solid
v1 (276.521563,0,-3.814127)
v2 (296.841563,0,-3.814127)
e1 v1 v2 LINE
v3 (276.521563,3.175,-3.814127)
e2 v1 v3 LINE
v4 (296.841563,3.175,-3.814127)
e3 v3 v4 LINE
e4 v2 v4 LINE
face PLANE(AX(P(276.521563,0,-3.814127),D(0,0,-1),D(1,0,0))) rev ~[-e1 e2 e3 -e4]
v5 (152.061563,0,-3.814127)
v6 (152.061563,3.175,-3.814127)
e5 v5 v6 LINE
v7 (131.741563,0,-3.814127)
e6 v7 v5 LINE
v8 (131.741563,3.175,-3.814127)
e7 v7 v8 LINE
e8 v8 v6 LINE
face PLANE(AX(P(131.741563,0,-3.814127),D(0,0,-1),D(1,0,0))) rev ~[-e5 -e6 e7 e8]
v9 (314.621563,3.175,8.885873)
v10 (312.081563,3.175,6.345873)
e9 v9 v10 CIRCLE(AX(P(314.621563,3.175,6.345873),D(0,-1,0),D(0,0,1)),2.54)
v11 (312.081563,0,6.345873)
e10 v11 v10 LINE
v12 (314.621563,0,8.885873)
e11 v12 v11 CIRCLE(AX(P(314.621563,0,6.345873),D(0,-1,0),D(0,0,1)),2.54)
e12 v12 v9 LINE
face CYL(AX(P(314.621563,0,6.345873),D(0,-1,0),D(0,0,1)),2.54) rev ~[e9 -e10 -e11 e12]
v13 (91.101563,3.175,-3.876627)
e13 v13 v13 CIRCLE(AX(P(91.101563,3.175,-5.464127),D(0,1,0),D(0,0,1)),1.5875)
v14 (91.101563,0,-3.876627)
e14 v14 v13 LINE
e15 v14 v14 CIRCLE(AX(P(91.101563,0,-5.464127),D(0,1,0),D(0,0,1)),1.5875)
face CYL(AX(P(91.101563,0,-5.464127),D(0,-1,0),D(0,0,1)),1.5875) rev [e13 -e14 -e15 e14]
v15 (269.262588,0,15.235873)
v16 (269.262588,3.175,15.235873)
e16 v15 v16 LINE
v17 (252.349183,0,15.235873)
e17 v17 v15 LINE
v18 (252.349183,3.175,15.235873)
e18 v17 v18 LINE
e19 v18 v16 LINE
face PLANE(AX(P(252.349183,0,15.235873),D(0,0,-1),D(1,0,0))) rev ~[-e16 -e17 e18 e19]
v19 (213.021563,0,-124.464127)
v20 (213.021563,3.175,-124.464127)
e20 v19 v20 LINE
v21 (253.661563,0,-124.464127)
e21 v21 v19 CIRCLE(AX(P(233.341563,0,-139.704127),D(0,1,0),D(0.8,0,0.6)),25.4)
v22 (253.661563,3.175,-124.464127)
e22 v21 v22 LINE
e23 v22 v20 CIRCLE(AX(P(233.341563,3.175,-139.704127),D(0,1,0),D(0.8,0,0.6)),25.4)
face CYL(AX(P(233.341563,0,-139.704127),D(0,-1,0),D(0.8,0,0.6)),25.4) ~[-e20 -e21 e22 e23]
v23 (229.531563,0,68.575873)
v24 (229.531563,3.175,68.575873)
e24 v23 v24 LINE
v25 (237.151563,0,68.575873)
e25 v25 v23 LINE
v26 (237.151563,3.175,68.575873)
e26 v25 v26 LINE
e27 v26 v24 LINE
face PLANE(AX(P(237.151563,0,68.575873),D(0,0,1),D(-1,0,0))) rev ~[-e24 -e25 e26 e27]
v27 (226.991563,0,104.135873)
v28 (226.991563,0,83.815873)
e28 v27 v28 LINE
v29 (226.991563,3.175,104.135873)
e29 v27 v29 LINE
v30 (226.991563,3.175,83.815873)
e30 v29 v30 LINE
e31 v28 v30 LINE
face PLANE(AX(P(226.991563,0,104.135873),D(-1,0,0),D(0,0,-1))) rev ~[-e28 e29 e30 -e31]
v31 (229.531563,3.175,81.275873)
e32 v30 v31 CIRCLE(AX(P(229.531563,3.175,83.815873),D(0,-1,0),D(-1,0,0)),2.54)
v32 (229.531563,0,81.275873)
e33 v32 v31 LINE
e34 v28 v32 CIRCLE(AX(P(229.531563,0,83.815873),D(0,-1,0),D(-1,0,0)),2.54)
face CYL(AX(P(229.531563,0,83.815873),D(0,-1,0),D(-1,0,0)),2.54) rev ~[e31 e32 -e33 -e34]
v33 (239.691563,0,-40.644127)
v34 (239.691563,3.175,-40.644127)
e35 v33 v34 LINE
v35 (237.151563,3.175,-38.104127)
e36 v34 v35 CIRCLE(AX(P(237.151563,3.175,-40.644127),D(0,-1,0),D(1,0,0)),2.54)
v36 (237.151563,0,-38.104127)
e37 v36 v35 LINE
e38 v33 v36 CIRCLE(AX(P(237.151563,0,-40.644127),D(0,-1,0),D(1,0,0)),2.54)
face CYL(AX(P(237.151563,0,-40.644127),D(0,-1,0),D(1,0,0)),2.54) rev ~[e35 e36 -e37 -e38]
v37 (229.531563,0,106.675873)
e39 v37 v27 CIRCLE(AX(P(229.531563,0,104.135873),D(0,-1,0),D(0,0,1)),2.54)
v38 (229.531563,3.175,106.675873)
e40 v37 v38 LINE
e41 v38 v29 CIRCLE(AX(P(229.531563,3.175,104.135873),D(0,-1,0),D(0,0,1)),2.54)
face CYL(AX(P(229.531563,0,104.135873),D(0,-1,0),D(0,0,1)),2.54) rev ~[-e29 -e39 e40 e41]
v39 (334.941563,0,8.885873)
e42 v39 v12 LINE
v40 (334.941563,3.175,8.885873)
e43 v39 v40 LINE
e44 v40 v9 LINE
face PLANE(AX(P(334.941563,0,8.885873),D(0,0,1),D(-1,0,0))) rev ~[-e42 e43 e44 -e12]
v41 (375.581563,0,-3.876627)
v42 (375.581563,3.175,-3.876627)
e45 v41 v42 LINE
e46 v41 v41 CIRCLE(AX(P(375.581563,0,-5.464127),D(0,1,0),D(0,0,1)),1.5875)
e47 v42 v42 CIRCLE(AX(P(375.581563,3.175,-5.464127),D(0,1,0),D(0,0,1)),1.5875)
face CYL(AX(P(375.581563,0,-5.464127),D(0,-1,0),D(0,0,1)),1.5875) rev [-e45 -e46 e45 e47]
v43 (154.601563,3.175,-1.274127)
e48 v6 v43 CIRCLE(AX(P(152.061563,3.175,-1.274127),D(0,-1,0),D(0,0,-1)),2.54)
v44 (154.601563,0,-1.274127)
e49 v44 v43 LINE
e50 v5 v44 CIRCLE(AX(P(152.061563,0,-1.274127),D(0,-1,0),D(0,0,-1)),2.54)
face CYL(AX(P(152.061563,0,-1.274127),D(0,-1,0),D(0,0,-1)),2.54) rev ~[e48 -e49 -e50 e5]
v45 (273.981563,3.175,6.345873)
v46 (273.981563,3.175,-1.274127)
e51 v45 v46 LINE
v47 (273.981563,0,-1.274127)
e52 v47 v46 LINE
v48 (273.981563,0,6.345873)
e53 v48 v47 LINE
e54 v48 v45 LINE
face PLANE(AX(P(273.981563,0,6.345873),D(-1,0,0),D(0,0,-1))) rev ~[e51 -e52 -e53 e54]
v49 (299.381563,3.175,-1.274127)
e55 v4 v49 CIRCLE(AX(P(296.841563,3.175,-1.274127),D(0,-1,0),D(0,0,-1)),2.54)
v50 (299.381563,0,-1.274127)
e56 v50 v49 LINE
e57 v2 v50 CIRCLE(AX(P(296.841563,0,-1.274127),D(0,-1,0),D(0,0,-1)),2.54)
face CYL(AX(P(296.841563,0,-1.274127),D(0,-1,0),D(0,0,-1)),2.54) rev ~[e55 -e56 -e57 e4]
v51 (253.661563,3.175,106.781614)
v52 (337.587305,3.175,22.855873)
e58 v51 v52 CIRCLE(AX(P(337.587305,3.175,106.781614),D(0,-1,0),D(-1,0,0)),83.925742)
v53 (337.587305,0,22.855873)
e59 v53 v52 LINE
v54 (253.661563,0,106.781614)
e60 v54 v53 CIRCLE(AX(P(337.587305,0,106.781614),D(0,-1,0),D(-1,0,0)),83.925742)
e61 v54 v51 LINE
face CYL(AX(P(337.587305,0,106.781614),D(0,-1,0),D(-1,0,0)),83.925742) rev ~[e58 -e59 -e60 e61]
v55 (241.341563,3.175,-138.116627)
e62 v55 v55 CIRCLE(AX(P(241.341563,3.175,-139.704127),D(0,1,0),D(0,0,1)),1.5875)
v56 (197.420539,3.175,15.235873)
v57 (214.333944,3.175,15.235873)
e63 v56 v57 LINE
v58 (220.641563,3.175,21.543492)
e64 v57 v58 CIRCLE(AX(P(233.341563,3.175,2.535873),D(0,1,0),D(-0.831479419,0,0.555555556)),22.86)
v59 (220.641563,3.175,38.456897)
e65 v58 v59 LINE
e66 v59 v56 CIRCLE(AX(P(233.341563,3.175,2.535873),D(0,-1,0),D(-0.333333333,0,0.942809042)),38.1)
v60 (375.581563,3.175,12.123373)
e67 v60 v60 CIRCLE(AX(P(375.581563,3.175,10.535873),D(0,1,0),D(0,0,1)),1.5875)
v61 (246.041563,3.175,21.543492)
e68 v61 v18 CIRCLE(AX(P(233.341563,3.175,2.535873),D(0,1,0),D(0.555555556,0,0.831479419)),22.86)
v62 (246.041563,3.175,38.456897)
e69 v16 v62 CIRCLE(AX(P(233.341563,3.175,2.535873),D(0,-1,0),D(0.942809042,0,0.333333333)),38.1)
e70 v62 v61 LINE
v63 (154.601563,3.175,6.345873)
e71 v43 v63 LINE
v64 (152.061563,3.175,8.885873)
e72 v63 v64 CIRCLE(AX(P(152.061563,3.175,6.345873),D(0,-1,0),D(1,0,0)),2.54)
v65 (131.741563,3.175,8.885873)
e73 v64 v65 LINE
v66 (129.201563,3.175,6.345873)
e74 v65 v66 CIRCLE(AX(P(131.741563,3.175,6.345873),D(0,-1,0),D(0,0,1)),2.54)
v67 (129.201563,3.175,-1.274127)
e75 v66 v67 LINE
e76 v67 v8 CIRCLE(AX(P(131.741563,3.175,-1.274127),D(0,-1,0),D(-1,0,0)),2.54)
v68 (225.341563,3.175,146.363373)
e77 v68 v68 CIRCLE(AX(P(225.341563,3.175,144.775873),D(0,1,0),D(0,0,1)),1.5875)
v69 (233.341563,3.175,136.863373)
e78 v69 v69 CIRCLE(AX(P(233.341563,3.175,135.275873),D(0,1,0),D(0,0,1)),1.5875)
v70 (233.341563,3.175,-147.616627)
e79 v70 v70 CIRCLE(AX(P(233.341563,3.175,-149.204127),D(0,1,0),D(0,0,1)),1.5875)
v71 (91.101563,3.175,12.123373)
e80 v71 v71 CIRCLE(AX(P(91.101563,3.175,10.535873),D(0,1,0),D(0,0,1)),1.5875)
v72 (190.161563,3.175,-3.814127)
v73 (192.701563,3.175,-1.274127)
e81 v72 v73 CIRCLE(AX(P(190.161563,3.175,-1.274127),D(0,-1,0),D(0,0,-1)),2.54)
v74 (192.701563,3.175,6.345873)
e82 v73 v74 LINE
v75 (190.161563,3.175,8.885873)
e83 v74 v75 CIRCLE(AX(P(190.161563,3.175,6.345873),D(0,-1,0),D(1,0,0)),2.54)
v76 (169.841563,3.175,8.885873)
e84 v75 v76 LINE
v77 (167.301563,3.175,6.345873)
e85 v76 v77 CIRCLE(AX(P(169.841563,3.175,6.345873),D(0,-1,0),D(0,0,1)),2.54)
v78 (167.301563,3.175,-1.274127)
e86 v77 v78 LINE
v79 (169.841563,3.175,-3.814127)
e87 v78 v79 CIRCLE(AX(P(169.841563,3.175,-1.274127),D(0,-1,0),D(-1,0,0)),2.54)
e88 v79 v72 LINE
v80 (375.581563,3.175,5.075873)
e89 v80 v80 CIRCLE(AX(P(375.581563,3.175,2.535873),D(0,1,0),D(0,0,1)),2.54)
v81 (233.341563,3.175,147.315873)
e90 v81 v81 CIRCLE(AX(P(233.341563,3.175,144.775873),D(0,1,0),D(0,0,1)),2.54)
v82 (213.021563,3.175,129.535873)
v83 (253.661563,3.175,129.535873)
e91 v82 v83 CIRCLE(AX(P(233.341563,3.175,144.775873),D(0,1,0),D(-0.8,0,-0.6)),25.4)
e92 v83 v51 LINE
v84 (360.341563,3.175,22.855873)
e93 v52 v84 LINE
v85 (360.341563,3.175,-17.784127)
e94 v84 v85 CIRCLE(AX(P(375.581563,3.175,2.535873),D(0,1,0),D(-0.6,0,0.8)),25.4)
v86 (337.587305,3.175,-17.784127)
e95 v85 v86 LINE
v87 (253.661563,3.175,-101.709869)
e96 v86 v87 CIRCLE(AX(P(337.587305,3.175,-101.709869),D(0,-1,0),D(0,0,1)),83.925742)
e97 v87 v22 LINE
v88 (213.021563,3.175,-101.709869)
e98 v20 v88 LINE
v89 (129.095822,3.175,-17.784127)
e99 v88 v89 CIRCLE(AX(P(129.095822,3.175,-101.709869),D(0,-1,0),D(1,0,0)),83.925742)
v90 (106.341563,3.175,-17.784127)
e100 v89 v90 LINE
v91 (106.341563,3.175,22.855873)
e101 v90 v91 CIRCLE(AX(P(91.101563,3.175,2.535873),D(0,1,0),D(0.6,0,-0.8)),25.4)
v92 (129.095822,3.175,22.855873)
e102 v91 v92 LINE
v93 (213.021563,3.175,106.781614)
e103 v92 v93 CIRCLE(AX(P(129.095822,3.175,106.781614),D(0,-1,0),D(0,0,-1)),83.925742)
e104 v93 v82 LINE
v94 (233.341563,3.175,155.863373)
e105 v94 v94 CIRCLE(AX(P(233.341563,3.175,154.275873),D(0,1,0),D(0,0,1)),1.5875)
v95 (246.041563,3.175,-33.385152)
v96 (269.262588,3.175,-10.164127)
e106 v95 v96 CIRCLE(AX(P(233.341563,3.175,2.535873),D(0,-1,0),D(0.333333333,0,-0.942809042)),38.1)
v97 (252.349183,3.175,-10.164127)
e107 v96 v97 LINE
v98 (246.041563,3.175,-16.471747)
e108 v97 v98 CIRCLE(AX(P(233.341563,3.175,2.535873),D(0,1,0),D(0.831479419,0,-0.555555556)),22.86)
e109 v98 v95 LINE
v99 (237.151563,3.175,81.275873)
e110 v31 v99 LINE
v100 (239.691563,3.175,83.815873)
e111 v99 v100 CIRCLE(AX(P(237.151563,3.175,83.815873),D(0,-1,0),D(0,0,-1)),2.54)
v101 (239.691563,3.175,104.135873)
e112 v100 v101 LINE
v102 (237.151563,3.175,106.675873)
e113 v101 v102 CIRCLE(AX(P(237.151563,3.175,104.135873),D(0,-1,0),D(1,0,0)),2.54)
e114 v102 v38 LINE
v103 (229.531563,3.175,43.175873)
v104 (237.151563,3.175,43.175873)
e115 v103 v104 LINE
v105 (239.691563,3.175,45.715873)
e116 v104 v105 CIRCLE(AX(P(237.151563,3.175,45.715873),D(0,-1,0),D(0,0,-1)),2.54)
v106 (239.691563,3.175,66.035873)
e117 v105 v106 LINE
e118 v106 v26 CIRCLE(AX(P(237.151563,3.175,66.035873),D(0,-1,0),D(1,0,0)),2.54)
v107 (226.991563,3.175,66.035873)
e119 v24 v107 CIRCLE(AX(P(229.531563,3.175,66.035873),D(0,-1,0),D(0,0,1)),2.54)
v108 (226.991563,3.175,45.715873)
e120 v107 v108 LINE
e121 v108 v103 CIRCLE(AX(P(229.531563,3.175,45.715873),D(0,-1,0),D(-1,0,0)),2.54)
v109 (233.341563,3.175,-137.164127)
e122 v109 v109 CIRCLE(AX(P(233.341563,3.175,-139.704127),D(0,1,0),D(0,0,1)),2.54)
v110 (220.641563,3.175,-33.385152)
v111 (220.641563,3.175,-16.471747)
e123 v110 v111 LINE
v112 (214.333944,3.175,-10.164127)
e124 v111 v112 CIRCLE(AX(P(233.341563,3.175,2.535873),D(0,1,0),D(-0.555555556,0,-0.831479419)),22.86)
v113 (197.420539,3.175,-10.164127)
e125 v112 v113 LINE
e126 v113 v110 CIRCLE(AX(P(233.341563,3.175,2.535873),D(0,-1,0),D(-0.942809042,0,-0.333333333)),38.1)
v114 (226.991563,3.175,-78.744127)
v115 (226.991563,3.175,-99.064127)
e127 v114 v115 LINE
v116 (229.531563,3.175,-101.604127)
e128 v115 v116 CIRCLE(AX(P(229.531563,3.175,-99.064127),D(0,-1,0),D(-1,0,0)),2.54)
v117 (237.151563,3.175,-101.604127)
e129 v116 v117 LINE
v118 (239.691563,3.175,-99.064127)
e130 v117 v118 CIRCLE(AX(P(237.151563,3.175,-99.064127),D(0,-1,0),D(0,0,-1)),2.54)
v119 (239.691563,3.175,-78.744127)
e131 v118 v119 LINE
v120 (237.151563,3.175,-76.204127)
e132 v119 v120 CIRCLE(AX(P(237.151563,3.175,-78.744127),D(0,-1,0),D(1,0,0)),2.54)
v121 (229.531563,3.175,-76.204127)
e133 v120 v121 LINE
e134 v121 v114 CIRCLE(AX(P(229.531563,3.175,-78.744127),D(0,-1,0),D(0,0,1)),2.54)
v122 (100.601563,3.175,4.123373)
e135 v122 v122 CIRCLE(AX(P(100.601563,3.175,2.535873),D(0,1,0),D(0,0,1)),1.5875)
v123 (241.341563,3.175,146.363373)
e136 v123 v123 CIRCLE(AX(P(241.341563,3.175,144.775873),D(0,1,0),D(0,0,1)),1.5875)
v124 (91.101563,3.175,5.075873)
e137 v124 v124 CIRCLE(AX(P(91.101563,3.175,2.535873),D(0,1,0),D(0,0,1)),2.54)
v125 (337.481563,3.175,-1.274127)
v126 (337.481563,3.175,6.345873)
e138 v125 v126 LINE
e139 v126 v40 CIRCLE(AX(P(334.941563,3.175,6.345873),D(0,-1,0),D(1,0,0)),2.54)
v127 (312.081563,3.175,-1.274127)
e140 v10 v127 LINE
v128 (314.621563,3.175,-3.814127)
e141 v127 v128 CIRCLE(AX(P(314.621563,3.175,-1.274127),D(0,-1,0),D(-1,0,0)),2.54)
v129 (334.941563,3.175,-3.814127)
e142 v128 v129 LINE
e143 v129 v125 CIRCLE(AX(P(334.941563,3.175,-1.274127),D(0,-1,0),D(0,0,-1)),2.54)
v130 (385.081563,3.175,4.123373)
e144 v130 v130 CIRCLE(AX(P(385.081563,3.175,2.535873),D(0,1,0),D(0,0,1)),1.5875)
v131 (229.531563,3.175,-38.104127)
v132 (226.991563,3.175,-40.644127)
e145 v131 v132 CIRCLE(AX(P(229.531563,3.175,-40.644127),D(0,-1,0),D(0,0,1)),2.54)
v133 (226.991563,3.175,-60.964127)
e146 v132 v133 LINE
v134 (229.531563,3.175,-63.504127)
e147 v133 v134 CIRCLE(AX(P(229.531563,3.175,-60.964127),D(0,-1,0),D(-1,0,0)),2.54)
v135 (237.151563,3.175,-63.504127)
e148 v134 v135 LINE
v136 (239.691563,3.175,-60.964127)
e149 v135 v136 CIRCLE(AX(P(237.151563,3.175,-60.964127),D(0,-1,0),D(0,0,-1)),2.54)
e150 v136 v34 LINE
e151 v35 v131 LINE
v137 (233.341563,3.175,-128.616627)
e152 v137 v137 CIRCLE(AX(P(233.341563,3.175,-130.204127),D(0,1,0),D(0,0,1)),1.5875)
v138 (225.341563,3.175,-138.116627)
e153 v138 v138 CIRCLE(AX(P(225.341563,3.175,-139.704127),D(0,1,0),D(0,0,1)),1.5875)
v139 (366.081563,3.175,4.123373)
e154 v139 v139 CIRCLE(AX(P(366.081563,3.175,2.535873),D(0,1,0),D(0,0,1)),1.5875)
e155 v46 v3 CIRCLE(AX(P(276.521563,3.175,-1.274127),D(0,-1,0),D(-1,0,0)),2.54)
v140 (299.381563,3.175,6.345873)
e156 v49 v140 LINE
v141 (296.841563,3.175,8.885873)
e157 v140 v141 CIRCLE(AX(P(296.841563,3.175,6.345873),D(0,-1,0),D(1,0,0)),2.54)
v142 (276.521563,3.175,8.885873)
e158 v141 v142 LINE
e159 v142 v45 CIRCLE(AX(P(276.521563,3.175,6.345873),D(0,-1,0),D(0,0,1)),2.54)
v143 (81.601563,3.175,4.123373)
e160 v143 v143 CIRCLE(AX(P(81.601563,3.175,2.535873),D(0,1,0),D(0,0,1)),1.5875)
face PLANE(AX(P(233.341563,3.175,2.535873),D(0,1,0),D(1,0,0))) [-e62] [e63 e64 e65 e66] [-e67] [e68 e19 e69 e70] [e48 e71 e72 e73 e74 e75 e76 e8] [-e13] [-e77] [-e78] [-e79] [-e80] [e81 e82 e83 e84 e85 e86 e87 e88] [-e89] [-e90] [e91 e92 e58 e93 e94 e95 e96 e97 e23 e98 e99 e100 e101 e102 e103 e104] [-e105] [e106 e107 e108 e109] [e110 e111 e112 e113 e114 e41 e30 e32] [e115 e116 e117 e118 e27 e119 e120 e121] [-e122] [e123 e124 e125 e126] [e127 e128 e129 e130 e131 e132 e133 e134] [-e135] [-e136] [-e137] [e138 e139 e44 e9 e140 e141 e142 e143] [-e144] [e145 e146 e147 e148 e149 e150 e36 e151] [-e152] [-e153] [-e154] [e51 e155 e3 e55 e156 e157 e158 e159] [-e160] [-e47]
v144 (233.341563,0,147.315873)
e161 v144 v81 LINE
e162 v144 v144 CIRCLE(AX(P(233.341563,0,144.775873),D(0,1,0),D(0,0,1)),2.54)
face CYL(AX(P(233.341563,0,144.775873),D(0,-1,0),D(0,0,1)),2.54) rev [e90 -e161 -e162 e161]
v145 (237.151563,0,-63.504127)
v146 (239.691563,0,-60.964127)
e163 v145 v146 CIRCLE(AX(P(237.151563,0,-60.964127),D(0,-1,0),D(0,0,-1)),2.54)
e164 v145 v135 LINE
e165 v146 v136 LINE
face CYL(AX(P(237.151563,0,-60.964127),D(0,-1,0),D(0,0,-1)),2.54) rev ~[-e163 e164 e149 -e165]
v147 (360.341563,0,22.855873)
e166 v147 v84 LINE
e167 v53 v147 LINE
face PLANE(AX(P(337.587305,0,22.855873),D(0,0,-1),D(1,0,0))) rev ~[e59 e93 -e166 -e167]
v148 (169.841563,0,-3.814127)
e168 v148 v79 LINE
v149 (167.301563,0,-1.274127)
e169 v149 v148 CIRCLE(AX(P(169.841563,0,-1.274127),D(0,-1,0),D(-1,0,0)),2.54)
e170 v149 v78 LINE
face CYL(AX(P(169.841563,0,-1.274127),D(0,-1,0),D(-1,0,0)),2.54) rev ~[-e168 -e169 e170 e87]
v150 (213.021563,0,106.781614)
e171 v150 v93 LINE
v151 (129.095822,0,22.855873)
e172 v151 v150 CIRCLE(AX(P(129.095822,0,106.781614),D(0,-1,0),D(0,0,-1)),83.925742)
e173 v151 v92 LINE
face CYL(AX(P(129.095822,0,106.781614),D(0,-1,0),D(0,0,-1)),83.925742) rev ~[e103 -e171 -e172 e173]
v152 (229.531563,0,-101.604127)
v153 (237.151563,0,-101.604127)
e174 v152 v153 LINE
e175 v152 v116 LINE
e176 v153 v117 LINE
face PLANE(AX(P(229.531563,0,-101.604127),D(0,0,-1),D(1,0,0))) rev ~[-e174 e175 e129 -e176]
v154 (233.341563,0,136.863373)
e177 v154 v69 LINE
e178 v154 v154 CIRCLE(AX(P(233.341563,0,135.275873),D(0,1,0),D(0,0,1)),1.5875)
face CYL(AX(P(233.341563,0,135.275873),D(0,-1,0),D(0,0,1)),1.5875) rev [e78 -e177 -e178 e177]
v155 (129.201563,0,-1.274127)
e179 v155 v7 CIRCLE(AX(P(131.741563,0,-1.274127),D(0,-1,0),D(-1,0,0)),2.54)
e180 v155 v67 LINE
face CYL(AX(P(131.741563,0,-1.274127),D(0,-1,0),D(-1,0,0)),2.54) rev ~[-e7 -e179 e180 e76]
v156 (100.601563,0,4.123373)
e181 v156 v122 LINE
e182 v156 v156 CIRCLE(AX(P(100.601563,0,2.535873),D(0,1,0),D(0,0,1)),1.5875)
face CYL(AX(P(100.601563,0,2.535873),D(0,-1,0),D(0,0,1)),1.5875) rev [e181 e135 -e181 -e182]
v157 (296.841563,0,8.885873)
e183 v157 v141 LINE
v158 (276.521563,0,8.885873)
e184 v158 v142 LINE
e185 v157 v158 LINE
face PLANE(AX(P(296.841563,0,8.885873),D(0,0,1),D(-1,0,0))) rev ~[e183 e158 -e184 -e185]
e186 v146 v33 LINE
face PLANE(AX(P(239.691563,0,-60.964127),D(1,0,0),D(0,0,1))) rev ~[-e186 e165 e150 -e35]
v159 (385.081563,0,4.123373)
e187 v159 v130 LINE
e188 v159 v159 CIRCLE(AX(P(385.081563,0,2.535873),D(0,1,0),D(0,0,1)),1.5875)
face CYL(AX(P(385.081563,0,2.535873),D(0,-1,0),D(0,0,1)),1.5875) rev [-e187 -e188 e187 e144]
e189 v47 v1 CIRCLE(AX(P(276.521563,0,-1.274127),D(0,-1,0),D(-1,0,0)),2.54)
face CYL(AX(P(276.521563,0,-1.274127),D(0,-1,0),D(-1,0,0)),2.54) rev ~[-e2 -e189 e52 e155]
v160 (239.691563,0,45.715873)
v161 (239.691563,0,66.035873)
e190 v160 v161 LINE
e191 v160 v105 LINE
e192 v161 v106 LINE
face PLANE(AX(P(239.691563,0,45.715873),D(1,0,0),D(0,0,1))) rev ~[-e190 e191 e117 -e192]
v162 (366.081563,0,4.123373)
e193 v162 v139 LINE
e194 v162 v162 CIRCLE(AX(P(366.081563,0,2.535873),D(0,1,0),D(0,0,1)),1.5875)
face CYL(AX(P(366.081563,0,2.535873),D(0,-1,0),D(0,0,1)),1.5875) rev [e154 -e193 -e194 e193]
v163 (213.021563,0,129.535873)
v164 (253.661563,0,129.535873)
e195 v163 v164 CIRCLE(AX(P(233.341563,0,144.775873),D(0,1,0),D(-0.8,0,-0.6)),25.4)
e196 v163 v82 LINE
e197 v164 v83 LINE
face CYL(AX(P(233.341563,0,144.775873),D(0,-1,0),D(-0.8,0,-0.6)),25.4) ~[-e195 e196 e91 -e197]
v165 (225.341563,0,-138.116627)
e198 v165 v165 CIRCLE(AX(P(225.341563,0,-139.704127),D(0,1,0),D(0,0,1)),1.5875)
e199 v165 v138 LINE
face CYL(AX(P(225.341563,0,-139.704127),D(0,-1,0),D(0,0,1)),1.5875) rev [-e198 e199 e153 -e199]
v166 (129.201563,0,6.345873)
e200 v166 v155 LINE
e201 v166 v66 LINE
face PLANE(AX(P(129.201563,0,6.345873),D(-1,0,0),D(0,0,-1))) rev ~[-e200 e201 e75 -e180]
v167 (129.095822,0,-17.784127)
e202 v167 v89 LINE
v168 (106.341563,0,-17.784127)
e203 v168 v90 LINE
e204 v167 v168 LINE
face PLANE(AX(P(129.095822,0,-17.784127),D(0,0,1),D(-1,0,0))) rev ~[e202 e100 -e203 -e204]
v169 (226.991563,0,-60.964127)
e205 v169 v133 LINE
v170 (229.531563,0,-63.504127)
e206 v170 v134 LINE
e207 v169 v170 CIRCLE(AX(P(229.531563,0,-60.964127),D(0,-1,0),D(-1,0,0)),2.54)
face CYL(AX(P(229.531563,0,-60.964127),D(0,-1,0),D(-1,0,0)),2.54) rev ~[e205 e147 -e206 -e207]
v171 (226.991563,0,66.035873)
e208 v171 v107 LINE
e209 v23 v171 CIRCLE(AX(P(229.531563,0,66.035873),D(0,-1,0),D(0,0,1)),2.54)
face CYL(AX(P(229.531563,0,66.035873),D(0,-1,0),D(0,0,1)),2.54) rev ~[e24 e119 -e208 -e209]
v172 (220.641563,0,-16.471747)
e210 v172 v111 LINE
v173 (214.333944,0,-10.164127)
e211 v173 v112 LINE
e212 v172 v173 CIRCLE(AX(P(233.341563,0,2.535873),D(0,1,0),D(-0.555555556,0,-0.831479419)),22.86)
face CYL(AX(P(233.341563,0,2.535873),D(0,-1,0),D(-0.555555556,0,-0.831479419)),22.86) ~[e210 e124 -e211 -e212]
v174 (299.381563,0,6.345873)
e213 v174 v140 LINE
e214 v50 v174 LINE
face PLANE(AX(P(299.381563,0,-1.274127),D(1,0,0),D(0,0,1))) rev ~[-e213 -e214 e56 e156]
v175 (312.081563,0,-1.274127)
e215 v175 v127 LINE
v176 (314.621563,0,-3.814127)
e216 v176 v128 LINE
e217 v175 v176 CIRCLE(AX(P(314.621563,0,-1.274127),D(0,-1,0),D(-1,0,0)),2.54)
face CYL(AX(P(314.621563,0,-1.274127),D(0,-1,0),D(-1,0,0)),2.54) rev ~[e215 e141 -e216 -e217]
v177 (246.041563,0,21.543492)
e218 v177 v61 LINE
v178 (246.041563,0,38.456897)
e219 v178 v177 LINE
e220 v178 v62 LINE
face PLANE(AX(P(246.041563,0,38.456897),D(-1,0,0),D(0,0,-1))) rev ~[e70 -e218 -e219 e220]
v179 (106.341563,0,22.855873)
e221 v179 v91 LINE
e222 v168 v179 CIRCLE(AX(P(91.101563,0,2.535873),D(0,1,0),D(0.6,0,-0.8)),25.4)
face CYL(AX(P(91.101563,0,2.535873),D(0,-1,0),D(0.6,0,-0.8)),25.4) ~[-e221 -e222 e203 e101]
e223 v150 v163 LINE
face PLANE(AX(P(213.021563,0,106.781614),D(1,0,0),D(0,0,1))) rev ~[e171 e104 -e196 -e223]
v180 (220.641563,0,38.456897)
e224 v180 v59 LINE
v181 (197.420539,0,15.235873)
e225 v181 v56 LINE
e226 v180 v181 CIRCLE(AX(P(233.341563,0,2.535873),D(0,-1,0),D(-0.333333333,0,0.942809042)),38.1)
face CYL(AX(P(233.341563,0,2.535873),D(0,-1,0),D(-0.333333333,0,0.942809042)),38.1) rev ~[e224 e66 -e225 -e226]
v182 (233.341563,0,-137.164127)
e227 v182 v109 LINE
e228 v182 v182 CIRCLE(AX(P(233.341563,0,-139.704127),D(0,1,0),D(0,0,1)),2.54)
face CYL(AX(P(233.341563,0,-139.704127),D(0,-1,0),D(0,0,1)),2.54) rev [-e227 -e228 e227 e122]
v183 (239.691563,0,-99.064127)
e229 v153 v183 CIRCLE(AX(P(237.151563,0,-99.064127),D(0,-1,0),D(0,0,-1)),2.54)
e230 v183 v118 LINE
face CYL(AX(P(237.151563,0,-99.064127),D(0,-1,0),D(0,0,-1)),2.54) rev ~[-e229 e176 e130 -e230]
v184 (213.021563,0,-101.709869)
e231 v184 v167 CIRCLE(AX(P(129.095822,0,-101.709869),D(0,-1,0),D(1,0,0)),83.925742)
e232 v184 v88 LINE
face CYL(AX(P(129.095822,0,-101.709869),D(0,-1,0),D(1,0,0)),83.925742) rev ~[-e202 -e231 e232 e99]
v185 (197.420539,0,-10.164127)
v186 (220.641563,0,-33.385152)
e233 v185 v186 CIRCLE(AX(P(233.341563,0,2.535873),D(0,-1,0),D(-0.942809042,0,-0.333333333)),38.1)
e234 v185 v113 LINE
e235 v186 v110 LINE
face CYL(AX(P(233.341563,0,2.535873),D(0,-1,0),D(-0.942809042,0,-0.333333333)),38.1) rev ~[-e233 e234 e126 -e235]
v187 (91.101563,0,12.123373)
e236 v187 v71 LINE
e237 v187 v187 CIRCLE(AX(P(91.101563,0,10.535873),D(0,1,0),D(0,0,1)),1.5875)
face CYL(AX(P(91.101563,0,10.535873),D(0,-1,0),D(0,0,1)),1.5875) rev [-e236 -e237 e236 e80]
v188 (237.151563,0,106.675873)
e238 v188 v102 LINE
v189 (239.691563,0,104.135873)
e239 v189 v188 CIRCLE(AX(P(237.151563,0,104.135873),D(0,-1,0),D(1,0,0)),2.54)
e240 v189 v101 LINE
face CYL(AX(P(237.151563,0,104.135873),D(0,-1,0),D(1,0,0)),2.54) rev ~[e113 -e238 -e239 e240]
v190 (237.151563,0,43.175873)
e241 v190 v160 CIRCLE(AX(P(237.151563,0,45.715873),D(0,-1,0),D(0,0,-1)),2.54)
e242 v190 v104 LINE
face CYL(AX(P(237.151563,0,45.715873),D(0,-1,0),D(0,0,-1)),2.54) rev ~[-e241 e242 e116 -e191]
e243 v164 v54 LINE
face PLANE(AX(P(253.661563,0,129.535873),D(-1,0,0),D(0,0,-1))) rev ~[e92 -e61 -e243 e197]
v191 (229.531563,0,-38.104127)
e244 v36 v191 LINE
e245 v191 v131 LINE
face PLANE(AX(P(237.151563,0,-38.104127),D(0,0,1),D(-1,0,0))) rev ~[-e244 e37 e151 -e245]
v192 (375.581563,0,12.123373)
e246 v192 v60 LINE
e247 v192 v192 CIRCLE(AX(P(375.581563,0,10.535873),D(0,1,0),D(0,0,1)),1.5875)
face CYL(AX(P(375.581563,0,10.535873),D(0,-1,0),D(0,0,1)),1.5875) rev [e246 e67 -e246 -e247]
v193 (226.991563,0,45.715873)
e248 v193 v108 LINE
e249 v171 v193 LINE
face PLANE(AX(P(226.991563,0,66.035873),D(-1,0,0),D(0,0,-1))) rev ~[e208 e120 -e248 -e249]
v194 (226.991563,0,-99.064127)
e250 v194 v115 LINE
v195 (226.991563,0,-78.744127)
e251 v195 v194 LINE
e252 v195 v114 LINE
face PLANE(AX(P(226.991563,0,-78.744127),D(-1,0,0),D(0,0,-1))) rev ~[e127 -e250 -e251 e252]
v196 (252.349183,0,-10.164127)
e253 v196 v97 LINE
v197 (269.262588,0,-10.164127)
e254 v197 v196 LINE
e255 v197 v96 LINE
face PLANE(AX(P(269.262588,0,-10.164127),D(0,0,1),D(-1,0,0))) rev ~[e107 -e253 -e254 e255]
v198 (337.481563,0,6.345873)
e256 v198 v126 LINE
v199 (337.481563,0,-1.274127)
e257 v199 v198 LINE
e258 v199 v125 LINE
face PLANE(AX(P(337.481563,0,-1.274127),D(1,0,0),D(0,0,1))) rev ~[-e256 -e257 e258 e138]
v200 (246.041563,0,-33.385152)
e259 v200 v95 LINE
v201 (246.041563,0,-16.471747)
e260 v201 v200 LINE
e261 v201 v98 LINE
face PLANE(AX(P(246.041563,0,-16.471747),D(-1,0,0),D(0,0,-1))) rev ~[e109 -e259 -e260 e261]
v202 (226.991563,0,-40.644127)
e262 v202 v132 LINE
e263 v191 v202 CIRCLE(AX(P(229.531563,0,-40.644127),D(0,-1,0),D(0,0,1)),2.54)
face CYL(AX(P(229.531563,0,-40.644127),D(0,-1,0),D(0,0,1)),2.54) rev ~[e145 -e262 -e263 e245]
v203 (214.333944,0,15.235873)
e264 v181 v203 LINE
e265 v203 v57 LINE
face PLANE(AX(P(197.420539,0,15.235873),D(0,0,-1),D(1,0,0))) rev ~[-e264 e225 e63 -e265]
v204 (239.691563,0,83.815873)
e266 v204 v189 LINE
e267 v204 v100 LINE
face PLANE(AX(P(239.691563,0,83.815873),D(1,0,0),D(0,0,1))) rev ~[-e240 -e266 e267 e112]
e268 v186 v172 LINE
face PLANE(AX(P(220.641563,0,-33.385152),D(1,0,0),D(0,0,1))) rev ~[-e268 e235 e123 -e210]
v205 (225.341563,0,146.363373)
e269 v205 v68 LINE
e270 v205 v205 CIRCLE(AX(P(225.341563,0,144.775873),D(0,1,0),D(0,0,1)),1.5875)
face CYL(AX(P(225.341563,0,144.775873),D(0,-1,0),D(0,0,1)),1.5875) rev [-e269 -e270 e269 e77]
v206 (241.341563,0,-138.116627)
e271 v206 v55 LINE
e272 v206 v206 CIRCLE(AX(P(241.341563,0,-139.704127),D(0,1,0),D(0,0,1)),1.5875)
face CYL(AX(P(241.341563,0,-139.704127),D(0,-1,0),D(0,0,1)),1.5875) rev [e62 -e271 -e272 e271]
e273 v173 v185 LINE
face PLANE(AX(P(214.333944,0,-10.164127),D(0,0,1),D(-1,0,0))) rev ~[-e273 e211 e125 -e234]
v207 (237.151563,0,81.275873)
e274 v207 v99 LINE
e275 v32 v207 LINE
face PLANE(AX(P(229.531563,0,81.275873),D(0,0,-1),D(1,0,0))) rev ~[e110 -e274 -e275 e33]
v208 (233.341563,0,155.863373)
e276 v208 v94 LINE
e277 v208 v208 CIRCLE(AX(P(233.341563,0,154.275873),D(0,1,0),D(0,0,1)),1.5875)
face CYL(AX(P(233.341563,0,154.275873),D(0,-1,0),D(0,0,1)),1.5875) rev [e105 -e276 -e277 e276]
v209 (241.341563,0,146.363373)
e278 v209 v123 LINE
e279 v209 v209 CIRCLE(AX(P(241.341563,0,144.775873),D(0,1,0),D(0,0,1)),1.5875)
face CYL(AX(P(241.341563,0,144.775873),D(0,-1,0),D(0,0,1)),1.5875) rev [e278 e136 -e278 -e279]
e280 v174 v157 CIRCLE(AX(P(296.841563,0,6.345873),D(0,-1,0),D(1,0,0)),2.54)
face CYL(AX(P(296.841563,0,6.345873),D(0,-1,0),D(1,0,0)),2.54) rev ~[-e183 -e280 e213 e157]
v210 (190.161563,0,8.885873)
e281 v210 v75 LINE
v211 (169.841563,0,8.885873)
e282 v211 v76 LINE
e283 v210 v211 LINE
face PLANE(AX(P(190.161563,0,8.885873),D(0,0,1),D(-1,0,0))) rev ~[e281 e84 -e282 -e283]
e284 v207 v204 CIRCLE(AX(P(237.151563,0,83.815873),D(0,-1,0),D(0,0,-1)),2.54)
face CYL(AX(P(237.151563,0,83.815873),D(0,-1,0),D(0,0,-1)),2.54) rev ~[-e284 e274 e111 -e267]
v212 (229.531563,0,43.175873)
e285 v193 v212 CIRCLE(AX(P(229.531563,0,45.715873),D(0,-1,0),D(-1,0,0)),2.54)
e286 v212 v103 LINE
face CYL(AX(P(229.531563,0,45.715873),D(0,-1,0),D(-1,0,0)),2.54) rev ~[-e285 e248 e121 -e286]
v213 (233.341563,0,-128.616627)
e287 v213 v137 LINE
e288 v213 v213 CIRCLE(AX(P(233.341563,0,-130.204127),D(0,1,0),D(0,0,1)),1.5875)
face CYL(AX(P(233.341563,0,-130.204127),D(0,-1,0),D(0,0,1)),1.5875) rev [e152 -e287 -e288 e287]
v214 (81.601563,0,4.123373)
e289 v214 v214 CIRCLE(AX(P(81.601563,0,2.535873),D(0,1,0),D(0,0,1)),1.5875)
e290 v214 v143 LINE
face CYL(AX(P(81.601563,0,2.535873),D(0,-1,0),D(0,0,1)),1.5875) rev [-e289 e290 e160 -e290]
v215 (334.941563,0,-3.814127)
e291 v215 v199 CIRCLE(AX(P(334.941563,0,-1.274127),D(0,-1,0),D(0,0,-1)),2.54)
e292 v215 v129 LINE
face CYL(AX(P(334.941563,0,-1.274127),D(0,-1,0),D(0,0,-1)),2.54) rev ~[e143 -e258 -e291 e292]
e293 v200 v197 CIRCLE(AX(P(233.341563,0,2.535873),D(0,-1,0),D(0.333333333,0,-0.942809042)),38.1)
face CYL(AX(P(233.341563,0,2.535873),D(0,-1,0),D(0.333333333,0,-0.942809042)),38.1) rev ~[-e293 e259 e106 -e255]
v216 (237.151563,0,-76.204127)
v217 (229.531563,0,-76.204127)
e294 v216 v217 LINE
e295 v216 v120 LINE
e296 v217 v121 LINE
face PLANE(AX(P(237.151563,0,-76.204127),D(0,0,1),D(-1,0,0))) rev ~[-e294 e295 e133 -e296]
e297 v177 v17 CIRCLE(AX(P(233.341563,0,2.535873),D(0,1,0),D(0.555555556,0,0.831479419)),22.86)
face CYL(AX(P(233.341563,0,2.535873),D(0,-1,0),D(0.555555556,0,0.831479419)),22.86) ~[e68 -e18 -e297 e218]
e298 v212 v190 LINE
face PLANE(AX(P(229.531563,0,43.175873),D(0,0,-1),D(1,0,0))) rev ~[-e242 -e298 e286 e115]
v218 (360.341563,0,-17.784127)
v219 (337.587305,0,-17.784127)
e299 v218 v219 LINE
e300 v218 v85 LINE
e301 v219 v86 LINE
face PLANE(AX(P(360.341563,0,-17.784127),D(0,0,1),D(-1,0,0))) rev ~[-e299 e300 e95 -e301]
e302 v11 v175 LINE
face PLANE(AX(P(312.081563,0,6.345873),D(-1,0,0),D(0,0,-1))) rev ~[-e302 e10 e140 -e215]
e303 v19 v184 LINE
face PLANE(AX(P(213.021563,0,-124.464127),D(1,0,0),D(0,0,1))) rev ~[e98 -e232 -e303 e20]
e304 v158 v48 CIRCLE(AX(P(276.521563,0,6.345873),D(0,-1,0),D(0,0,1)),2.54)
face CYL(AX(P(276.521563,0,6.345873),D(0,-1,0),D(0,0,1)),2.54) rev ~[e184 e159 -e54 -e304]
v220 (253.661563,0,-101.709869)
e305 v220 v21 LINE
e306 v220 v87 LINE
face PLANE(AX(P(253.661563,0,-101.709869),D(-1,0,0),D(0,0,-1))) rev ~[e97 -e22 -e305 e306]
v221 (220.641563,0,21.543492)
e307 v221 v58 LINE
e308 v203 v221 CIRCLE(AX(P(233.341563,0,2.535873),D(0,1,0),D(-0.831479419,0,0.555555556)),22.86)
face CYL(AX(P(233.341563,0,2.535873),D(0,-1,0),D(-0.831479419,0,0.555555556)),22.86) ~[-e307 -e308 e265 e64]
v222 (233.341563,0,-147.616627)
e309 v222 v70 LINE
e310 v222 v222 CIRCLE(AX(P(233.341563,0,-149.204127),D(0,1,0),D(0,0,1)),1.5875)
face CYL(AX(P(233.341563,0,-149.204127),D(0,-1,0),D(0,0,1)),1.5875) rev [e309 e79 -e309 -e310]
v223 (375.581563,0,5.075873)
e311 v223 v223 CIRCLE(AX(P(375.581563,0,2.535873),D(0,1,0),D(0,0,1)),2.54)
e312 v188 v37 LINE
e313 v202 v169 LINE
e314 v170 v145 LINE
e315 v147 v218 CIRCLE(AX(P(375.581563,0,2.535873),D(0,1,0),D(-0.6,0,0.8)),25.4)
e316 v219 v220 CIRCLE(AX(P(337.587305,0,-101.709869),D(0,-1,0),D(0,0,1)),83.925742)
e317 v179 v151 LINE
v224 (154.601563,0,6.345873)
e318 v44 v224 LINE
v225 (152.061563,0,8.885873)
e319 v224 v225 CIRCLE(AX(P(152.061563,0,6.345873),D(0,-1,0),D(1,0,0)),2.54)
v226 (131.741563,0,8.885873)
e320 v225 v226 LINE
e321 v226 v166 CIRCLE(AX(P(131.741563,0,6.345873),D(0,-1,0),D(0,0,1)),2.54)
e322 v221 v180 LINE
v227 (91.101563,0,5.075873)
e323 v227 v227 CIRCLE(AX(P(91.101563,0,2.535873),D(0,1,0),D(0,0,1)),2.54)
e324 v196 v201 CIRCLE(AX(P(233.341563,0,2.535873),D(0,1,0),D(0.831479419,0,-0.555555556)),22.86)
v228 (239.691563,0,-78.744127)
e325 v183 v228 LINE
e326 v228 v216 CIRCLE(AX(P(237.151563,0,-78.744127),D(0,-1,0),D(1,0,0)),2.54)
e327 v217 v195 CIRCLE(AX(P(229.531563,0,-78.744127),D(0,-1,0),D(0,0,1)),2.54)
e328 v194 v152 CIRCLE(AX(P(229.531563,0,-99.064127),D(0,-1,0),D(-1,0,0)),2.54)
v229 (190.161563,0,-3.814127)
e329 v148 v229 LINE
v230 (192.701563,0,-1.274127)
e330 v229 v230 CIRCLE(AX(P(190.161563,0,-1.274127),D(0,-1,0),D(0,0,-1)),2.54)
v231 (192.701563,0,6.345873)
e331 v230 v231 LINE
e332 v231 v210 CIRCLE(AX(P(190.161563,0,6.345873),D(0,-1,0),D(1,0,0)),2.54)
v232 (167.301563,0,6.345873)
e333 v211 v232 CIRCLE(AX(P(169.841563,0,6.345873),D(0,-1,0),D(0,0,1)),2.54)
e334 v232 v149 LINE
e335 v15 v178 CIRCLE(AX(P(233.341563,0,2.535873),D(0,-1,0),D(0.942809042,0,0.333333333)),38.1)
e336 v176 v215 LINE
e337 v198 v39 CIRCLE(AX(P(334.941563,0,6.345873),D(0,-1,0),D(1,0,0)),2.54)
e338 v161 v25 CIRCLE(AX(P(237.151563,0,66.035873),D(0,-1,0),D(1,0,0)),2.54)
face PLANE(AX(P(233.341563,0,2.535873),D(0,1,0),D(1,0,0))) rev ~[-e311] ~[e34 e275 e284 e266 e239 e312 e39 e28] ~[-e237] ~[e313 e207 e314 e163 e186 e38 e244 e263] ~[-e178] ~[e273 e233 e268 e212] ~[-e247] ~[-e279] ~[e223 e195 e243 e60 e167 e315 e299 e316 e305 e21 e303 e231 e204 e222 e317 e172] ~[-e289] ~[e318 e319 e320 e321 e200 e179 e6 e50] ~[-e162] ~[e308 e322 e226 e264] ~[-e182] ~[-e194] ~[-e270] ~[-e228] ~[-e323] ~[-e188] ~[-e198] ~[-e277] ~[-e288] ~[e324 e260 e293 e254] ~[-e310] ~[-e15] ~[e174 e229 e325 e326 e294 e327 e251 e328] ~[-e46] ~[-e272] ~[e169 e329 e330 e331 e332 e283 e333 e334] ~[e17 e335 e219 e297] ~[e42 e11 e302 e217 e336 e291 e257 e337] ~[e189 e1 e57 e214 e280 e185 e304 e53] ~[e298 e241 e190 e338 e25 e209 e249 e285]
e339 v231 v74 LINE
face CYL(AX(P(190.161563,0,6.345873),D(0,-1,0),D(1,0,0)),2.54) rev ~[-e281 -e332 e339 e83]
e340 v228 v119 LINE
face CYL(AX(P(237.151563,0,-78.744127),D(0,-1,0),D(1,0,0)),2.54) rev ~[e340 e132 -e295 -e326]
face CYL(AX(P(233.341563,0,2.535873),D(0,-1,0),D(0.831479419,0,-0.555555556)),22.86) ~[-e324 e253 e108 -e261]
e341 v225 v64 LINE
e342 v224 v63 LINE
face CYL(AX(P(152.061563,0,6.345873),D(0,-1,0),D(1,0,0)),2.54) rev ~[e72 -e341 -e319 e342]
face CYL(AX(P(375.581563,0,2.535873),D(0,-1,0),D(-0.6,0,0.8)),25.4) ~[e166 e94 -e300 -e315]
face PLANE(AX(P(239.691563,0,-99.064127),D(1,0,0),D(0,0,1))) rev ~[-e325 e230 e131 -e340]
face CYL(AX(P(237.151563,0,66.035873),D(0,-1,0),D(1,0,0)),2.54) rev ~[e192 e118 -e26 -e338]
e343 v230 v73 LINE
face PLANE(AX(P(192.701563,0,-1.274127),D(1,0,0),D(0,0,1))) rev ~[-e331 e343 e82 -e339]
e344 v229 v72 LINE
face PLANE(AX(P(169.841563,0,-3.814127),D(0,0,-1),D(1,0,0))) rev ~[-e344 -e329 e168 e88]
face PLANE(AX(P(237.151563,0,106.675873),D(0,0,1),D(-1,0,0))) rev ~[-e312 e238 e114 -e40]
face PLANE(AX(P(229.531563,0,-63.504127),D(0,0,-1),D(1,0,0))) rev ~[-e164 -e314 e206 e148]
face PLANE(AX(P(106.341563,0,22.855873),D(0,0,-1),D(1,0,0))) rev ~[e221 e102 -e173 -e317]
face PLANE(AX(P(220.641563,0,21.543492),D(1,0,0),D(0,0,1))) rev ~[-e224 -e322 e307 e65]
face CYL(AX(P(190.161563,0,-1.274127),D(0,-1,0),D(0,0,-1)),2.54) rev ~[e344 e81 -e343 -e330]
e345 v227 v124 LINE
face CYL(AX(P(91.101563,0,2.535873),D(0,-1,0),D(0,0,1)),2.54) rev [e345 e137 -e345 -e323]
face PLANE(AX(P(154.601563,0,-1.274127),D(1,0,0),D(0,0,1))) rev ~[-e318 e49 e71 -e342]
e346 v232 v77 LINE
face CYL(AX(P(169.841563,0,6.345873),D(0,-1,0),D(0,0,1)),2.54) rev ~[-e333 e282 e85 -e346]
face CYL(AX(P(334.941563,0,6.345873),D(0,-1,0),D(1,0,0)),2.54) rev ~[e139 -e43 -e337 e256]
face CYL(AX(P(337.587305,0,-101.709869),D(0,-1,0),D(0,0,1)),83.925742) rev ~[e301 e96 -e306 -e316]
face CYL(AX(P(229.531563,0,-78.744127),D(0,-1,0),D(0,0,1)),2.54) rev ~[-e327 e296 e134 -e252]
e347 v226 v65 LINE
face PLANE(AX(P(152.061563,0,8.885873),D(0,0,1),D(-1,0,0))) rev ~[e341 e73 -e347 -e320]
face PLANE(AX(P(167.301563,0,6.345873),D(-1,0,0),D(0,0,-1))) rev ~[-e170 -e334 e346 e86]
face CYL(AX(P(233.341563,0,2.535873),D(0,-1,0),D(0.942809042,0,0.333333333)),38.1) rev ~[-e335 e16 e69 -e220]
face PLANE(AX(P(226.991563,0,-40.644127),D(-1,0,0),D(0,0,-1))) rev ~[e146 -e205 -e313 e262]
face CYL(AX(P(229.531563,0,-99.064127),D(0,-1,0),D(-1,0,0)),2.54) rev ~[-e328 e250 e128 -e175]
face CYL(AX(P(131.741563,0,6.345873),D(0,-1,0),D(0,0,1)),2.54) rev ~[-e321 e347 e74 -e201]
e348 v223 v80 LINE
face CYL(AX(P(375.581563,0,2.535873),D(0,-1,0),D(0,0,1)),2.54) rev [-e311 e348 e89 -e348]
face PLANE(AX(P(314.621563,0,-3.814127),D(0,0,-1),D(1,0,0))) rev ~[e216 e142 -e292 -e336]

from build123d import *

# Parameters (mm, degrees)
SKETCH1_R           = 1.5875
SKETCH1_R_2         = 2.54
BOSS_EXTRUDE1_DEPTH = 3.175


with BuildPart() as part:
    # Sketch1 → Boss-Extrude1 (new body)
    with BuildSketch(Plane(origin=(0, 0, 0), x_dir=(1, 0, 0), z_dir=(0, 1, 0))):
        with BuildLine():
            ThreePointArc((106.34156313, 17.784127356), (65.70156313, -2.535872644), (106.34156313, -22.855872644))
            Line((106.34156313, -22.855872644), (129.095821507, -22.855872644))
            ThreePointArc((129.095821507, -22.855872644), (188.440282525, -47.437153249), (213.02156313, -106.781614267))
            Line((213.02156313, -106.781614267), (213.02156313, -129.535872644))
            ThreePointArc((213.02156313, -129.535872644), (233.34156313, -170.175872644), (253.66156313, -129.535872644))
            Line((253.66156313, -129.535872644), (253.66156313, -106.781614267))
            ThreePointArc((253.66156313, -106.781614267), (278.242843735, -47.437153249), (337.587304753, -22.855872644))
            Line((337.587304753, -22.855872644), (360.34156313, -22.855872644))
            ThreePointArc((360.34156313, -22.855872644), (400.98156313, -2.535872644), (360.34156313, 17.784127356))
            Line((360.34156313, 17.784127356), (337.587304753, 17.784127356))
            ThreePointArc((337.587304753, 17.784127356), (278.242843735, 42.365407962), (253.66156313, 101.70986898))
            Line((253.66156313, 101.70986898), (253.66156313, 124.464127356))
            ThreePointArc((253.66156313, 124.464127356), (233.34156313, 165.104127356), (213.02156313, 124.464127356))
            Line((213.02156313, 124.464127356), (213.02156313, 101.70986898))
            ThreePointArc((213.02156313, 101.70986898), (188.440282525, 42.365407962), (129.095821507, 17.784127356))
            Line((129.095821507, 17.784127356), (106.34156313, 17.784127356))
        make_face()
        with BuildLine():
            ThreePointArc((276.52156313, -8.885872644), (274.725511906, -8.141923868), (273.98156313, -6.345872644))
            Line((273.98156313, -6.345872644), (273.98156313, 1.274127356))
            ThreePointArc((273.98156313, 1.274127356), (274.725511906, 3.07017858), (276.52156313, 3.814127356))
            Line((276.52156313, 3.814127356), (296.84156313, 3.814127356))
            ThreePointArc((296.84156313, 3.814127356), (298.637614354, 3.07017858), (299.38156313, 1.274127356))
            Line((299.38156313, 1.274127356), (299.38156313, -6.345872644))
            ThreePointArc((299.38156313, -6.345872644), (298.637614354, -8.141923868), (296.84156313, -8.885872644))
            Line((296.84156313, -8.885872644), (276.52156313, -8.885872644))
        make_face(mode=Mode.SUBTRACT)
        with BuildLine():
            ThreePointArc((239.69156313, -66.035872644), (238.947614354, -67.831923868), (237.15156313, -68.575872644))
            Line((237.15156313, -68.575872644), (229.53156313, -68.575872644))
            ThreePointArc((229.53156313, -68.575872644), (227.735511906, -67.831923868), (226.99156313, -66.035872644))
            Line((226.99156313, -66.035872644), (226.99156313, -45.715872644))
            ThreePointArc((226.99156313, -45.715872644), (227.735511906, -43.91982142), (229.53156313, -43.175872644))
            Line((229.53156313, -43.175872644), (237.15156313, -43.175872644))
            ThreePointArc((237.15156313, -43.175872644), (238.947614354, -43.91982142), (239.69156313, -45.715872644))
            Line((239.69156313, -45.715872644), (239.69156313, -66.035872644))
        make_face(mode=Mode.SUBTRACT)
        with BuildLine():
            ThreePointArc((239.69156313, 40.644127356), (238.947614354, 38.848076132), (237.15156313, 38.104127356))
            Line((237.15156313, 38.104127356), (229.53156313, 38.104127356))
            ThreePointArc((229.53156313, 38.104127356), (227.735511906, 38.848076132), (226.99156313, 40.644127356))
            Line((226.99156313, 40.644127356), (226.99156313, 60.964127356))
            ThreePointArc((226.99156313, 60.964127356), (227.735511906, 62.76017858), (229.53156313, 63.504127356))
            Line((229.53156313, 63.504127356), (237.15156313, 63.504127356))
            ThreePointArc((237.15156313, 63.504127356), (238.947614354, 62.76017858), (239.69156313, 60.964127356))
            Line((239.69156313, 60.964127356), (239.69156313, 40.644127356))
        make_face(mode=Mode.SUBTRACT)
        with BuildLine():
            ThreePointArc((169.84156313, -8.885872644), (168.045511906, -8.141923868), (167.30156313, -6.345872644))
            Line((167.30156313, -6.345872644), (167.30156313, 1.274127356))
            ThreePointArc((167.30156313, 1.274127356), (168.045511906, 3.07017858), (169.84156313, 3.814127356))
            Line((169.84156313, 3.814127356), (190.16156313, 3.814127356))
            ThreePointArc((190.16156313, 3.814127356), (191.957614354, 3.07017858), (192.70156313, 1.274127356))
            Line((192.70156313, 1.274127356), (192.70156313, -6.345872644))
            ThreePointArc((192.70156313, -6.345872644), (191.957614354, -8.141923868), (190.16156313, -8.885872644))
            Line((190.16156313, -8.885872644), (169.84156313, -8.885872644))
        make_face(mode=Mode.SUBTRACT)
        with BuildLine():
            ThreePointArc((129.20156313, 1.274127356), (129.945511906, 3.07017858), (131.74156313, 3.814127356))
            Line((131.74156313, 3.814127356), (152.06156313, 3.814127356))
            ThreePointArc((152.06156313, 3.814127356), (153.857614354, 3.07017858), (154.60156313, 1.274127356))
            Line((154.60156313, 1.274127356), (154.60156313, -6.345872644))
            ThreePointArc((154.60156313, -6.345872644), (153.857614354, -8.141923868), (152.06156313, -8.885872644))
            Line((152.06156313, -8.885872644), (131.74156313, -8.885872644))
            ThreePointArc((131.74156313, -8.885872644), (129.945511906, -8.141923868), (129.20156313, -6.345872644))
            Line((129.20156313, -6.345872644), (129.20156313, 1.274127356))
        make_face(mode=Mode.SUBTRACT)
        with Locations(Location((91.10156313, 5.464127356, 0), (0, 0, 270))):
            Circle(SKETCH1_R, mode=Mode.SUBTRACT)
        with Locations(Location((100.60156313, -2.535872644, 0), (0, 0, 270))):
            Circle(SKETCH1_R, mode=Mode.SUBTRACT)
        with Locations(Location((91.10156313, -10.535872644, 0), (0, 0, 270))):
            Circle(SKETCH1_R, mode=Mode.SUBTRACT)
        with Locations(Location((91.10156313, -2.535872644, 0), (0, 0, 270))):
            Circle(SKETCH1_R_2, mode=Mode.SUBTRACT)
        with Locations(Location((81.60156313, -2.535872644, 0), (0, 0, 270))):
            Circle(SKETCH1_R, mode=Mode.SUBTRACT)
        with BuildLine():
            ThreePointArc((220.64156313, -38.456897128), (206.400794767, -29.476641007), (197.420538646, -15.235872644))
            Line((197.420538646, -15.235872644), (214.333943605, -15.235872644))
            ThreePointArc((214.333943605, -15.235872644), (217.177102112, -18.700333662), (220.64156313, -21.543492169))
            Line((220.64156313, -21.543492169), (220.64156313, -38.456897128))
        make_face(mode=Mode.SUBTRACT)
        with BuildLine():
            ThreePointArc((197.420538646, 10.164127356), (206.400794767, 24.404895719), (220.64156313, 33.385151841))
            Line((220.64156313, 33.385151841), (220.64156313, 16.471746881))
            ThreePointArc((220.64156313, 16.471746881), (217.177102112, 13.628588374), (214.333943605, 10.164127356))
            Line((214.333943605, 10.164127356), (197.420538646, 10.164127356))
        make_face(mode=Mode.SUBTRACT)
        with BuildLine():
            ThreePointArc((246.04156313, 33.385151841), (260.282331493, 24.404895719), (269.262587614, 10.164127356))
            Line((269.262587614, 10.164127356), (252.349182655, 10.164127356))
            ThreePointArc((252.349182655, 10.164127356), (249.506024148, 13.628588374), (246.04156313, 16.471746881))
            Line((246.04156313, 16.471746881), (246.04156313, 33.385151841))
        make_face(mode=Mode.SUBTRACT)
        with BuildLine():
            ThreePointArc((269.262587614, -15.235872644), (260.282331493, -29.476641007), (246.04156313, -38.456897128))
            Line((246.04156313, -38.456897128), (246.04156313, -21.543492169))
            ThreePointArc((246.04156313, -21.543492169), (249.506024148, -18.700333662), (252.349182655, -15.235872644))
            Line((252.349182655, -15.235872644), (269.262587614, -15.235872644))
        make_face(mode=Mode.SUBTRACT)
        with BuildLine():
            ThreePointArc((229.53156313, 76.204127356), (227.735511906, 76.948076132), (226.99156313, 78.744127356))
            Line((226.99156313, 78.744127356), (226.99156313, 99.064127356))
            ThreePointArc((226.99156313, 99.064127356), (227.735511906, 100.86017858), (229.53156313, 101.604127356))
            Line((229.53156313, 101.604127356), (237.15156313, 101.604127356))
            ThreePointArc((237.15156313, 101.604127356), (238.947614354, 100.86017858), (239.69156313, 99.064127356))
            Line((239.69156313, 99.064127356), (239.69156313, 78.744127356))
            ThreePointArc((239.69156313, 78.744127356), (238.947614354, 76.948076132), (237.15156313, 76.204127356))
            Line((237.15156313, 76.204127356), (229.53156313, 76.204127356))
        make_face(mode=Mode.SUBTRACT)
        with Locations(Location((233.34156313, 149.204127356, 0), (0, 0, 270))):
            Circle(SKETCH1_R, mode=Mode.SUBTRACT)
        with Locations(Location((225.34156313, 139.704127356, 0), (0, 0, 270))):
            Circle(SKETCH1_R, mode=Mode.SUBTRACT)
        with Locations(Location((233.34156313, 130.204127356, 0), (0, 0, 270))):
            Circle(SKETCH1_R, mode=Mode.SUBTRACT)
        with Locations(Location((233.34156313, 139.704127356, 0), (0, 0, 270))):
            Circle(SKETCH1_R_2, mode=Mode.SUBTRACT)
        with Locations(Location((241.34156313, 139.704127356, 0), (0, 0, 270))):
            Circle(SKETCH1_R, mode=Mode.SUBTRACT)
        with BuildLine():
            ThreePointArc((237.15156313, -81.275872644), (238.947614354, -82.01982142), (239.69156313, -83.815872644))
            Line((239.69156313, -83.815872644), (239.69156313, -104.135872644))
            ThreePointArc((239.69156313, -104.135872644), (238.947614354, -105.931923868), (237.15156313, -106.675872644))
            Line((237.15156313, -106.675872644), (229.53156313, -106.675872644))
            ThreePointArc((229.53156313, -106.675872644), (227.735511906, -105.931923868), (226.99156313, -104.135872644))
            Line((226.99156313, -104.135872644), (226.99156313, -83.815872644))
            ThreePointArc((226.99156313, -83.815872644), (227.735511906, -82.01982142), (229.53156313, -81.275872644))
            Line((229.53156313, -81.275872644), (237.15156313, -81.275872644))
        make_face(mode=Mode.SUBTRACT)
        with Locations(Location((233.34156313, -135.275872644, 0), (0, 0, 270))):
            Circle(SKETCH1_R, mode=Mode.SUBTRACT)
        with Locations(Location((225.34156313, -144.775872644, 0), (0, 0, 270))):
            Circle(SKETCH1_R, mode=Mode.SUBTRACT)
        with Locations(Location((233.34156313, -154.275872644, 0), (0, 0, 270))):
            Circle(SKETCH1_R, mode=Mode.SUBTRACT)
        with Locations(Location((233.34156313, -144.775872644, 0), (0, 0, 270))):
            Circle(SKETCH1_R_2, mode=Mode.SUBTRACT)
        with Locations(Location((241.34156313, -144.775872644, 0), (0, 0, 270))):
            Circle(SKETCH1_R, mode=Mode.SUBTRACT)
        with BuildLine():
            Line((334.94156313, -8.885872644), (314.62156313, -8.885872644))
            ThreePointArc((314.62156313, -8.885872644), (312.825511906, -8.141923868), (312.08156313, -6.345872644))
            Line((312.08156313, -6.345872644), (312.08156313, 1.274127356))
            ThreePointArc((312.08156313, 1.274127356), (312.825511906, 3.07017858), (314.62156313, 3.814127356))
            Line((314.62156313, 3.814127356), (334.94156313, 3.814127356))
            ThreePointArc((334.94156313, 3.814127356), (336.737614354, 3.07017858), (337.48156313, 1.274127356))
            Line((337.48156313, 1.274127356), (337.48156313, -6.345872644))
            ThreePointArc((337.48156313, -6.345872644), (336.737614354, -8.141923868), (334.94156313, -8.885872644))
        make_face(mode=Mode.SUBTRACT)
        with Locations(Location((385.08156313, -2.535872644, 0), (0, 0, 270))):
            Circle(SKETCH1_R, mode=Mode.SUBTRACT)
        with Locations(Location((375.58156313, -10.535872644, 0), (0, 0, 270))):
            Circle(SKETCH1_R, mode=Mode.SUBTRACT)
        with Locations(Location((375.58156313, -2.535872644, 0), (0, 0, 270))):
            Circle(SKETCH1_R_2, mode=Mode.SUBTRACT)
        with Locations(Location((366.08156313, -2.535872644, 0), (0, 0, 270))):
            Circle(SKETCH1_R, mode=Mode.SUBTRACT)
        with Locations(Location((375.58156313, 5.464127356, 0), (0, 0, 270))):
            Circle(SKETCH1_R, mode=Mode.SUBTRACT)
    extrude(amount=BOSS_EXTRUDE1_DEPTH)


solid = part.part
